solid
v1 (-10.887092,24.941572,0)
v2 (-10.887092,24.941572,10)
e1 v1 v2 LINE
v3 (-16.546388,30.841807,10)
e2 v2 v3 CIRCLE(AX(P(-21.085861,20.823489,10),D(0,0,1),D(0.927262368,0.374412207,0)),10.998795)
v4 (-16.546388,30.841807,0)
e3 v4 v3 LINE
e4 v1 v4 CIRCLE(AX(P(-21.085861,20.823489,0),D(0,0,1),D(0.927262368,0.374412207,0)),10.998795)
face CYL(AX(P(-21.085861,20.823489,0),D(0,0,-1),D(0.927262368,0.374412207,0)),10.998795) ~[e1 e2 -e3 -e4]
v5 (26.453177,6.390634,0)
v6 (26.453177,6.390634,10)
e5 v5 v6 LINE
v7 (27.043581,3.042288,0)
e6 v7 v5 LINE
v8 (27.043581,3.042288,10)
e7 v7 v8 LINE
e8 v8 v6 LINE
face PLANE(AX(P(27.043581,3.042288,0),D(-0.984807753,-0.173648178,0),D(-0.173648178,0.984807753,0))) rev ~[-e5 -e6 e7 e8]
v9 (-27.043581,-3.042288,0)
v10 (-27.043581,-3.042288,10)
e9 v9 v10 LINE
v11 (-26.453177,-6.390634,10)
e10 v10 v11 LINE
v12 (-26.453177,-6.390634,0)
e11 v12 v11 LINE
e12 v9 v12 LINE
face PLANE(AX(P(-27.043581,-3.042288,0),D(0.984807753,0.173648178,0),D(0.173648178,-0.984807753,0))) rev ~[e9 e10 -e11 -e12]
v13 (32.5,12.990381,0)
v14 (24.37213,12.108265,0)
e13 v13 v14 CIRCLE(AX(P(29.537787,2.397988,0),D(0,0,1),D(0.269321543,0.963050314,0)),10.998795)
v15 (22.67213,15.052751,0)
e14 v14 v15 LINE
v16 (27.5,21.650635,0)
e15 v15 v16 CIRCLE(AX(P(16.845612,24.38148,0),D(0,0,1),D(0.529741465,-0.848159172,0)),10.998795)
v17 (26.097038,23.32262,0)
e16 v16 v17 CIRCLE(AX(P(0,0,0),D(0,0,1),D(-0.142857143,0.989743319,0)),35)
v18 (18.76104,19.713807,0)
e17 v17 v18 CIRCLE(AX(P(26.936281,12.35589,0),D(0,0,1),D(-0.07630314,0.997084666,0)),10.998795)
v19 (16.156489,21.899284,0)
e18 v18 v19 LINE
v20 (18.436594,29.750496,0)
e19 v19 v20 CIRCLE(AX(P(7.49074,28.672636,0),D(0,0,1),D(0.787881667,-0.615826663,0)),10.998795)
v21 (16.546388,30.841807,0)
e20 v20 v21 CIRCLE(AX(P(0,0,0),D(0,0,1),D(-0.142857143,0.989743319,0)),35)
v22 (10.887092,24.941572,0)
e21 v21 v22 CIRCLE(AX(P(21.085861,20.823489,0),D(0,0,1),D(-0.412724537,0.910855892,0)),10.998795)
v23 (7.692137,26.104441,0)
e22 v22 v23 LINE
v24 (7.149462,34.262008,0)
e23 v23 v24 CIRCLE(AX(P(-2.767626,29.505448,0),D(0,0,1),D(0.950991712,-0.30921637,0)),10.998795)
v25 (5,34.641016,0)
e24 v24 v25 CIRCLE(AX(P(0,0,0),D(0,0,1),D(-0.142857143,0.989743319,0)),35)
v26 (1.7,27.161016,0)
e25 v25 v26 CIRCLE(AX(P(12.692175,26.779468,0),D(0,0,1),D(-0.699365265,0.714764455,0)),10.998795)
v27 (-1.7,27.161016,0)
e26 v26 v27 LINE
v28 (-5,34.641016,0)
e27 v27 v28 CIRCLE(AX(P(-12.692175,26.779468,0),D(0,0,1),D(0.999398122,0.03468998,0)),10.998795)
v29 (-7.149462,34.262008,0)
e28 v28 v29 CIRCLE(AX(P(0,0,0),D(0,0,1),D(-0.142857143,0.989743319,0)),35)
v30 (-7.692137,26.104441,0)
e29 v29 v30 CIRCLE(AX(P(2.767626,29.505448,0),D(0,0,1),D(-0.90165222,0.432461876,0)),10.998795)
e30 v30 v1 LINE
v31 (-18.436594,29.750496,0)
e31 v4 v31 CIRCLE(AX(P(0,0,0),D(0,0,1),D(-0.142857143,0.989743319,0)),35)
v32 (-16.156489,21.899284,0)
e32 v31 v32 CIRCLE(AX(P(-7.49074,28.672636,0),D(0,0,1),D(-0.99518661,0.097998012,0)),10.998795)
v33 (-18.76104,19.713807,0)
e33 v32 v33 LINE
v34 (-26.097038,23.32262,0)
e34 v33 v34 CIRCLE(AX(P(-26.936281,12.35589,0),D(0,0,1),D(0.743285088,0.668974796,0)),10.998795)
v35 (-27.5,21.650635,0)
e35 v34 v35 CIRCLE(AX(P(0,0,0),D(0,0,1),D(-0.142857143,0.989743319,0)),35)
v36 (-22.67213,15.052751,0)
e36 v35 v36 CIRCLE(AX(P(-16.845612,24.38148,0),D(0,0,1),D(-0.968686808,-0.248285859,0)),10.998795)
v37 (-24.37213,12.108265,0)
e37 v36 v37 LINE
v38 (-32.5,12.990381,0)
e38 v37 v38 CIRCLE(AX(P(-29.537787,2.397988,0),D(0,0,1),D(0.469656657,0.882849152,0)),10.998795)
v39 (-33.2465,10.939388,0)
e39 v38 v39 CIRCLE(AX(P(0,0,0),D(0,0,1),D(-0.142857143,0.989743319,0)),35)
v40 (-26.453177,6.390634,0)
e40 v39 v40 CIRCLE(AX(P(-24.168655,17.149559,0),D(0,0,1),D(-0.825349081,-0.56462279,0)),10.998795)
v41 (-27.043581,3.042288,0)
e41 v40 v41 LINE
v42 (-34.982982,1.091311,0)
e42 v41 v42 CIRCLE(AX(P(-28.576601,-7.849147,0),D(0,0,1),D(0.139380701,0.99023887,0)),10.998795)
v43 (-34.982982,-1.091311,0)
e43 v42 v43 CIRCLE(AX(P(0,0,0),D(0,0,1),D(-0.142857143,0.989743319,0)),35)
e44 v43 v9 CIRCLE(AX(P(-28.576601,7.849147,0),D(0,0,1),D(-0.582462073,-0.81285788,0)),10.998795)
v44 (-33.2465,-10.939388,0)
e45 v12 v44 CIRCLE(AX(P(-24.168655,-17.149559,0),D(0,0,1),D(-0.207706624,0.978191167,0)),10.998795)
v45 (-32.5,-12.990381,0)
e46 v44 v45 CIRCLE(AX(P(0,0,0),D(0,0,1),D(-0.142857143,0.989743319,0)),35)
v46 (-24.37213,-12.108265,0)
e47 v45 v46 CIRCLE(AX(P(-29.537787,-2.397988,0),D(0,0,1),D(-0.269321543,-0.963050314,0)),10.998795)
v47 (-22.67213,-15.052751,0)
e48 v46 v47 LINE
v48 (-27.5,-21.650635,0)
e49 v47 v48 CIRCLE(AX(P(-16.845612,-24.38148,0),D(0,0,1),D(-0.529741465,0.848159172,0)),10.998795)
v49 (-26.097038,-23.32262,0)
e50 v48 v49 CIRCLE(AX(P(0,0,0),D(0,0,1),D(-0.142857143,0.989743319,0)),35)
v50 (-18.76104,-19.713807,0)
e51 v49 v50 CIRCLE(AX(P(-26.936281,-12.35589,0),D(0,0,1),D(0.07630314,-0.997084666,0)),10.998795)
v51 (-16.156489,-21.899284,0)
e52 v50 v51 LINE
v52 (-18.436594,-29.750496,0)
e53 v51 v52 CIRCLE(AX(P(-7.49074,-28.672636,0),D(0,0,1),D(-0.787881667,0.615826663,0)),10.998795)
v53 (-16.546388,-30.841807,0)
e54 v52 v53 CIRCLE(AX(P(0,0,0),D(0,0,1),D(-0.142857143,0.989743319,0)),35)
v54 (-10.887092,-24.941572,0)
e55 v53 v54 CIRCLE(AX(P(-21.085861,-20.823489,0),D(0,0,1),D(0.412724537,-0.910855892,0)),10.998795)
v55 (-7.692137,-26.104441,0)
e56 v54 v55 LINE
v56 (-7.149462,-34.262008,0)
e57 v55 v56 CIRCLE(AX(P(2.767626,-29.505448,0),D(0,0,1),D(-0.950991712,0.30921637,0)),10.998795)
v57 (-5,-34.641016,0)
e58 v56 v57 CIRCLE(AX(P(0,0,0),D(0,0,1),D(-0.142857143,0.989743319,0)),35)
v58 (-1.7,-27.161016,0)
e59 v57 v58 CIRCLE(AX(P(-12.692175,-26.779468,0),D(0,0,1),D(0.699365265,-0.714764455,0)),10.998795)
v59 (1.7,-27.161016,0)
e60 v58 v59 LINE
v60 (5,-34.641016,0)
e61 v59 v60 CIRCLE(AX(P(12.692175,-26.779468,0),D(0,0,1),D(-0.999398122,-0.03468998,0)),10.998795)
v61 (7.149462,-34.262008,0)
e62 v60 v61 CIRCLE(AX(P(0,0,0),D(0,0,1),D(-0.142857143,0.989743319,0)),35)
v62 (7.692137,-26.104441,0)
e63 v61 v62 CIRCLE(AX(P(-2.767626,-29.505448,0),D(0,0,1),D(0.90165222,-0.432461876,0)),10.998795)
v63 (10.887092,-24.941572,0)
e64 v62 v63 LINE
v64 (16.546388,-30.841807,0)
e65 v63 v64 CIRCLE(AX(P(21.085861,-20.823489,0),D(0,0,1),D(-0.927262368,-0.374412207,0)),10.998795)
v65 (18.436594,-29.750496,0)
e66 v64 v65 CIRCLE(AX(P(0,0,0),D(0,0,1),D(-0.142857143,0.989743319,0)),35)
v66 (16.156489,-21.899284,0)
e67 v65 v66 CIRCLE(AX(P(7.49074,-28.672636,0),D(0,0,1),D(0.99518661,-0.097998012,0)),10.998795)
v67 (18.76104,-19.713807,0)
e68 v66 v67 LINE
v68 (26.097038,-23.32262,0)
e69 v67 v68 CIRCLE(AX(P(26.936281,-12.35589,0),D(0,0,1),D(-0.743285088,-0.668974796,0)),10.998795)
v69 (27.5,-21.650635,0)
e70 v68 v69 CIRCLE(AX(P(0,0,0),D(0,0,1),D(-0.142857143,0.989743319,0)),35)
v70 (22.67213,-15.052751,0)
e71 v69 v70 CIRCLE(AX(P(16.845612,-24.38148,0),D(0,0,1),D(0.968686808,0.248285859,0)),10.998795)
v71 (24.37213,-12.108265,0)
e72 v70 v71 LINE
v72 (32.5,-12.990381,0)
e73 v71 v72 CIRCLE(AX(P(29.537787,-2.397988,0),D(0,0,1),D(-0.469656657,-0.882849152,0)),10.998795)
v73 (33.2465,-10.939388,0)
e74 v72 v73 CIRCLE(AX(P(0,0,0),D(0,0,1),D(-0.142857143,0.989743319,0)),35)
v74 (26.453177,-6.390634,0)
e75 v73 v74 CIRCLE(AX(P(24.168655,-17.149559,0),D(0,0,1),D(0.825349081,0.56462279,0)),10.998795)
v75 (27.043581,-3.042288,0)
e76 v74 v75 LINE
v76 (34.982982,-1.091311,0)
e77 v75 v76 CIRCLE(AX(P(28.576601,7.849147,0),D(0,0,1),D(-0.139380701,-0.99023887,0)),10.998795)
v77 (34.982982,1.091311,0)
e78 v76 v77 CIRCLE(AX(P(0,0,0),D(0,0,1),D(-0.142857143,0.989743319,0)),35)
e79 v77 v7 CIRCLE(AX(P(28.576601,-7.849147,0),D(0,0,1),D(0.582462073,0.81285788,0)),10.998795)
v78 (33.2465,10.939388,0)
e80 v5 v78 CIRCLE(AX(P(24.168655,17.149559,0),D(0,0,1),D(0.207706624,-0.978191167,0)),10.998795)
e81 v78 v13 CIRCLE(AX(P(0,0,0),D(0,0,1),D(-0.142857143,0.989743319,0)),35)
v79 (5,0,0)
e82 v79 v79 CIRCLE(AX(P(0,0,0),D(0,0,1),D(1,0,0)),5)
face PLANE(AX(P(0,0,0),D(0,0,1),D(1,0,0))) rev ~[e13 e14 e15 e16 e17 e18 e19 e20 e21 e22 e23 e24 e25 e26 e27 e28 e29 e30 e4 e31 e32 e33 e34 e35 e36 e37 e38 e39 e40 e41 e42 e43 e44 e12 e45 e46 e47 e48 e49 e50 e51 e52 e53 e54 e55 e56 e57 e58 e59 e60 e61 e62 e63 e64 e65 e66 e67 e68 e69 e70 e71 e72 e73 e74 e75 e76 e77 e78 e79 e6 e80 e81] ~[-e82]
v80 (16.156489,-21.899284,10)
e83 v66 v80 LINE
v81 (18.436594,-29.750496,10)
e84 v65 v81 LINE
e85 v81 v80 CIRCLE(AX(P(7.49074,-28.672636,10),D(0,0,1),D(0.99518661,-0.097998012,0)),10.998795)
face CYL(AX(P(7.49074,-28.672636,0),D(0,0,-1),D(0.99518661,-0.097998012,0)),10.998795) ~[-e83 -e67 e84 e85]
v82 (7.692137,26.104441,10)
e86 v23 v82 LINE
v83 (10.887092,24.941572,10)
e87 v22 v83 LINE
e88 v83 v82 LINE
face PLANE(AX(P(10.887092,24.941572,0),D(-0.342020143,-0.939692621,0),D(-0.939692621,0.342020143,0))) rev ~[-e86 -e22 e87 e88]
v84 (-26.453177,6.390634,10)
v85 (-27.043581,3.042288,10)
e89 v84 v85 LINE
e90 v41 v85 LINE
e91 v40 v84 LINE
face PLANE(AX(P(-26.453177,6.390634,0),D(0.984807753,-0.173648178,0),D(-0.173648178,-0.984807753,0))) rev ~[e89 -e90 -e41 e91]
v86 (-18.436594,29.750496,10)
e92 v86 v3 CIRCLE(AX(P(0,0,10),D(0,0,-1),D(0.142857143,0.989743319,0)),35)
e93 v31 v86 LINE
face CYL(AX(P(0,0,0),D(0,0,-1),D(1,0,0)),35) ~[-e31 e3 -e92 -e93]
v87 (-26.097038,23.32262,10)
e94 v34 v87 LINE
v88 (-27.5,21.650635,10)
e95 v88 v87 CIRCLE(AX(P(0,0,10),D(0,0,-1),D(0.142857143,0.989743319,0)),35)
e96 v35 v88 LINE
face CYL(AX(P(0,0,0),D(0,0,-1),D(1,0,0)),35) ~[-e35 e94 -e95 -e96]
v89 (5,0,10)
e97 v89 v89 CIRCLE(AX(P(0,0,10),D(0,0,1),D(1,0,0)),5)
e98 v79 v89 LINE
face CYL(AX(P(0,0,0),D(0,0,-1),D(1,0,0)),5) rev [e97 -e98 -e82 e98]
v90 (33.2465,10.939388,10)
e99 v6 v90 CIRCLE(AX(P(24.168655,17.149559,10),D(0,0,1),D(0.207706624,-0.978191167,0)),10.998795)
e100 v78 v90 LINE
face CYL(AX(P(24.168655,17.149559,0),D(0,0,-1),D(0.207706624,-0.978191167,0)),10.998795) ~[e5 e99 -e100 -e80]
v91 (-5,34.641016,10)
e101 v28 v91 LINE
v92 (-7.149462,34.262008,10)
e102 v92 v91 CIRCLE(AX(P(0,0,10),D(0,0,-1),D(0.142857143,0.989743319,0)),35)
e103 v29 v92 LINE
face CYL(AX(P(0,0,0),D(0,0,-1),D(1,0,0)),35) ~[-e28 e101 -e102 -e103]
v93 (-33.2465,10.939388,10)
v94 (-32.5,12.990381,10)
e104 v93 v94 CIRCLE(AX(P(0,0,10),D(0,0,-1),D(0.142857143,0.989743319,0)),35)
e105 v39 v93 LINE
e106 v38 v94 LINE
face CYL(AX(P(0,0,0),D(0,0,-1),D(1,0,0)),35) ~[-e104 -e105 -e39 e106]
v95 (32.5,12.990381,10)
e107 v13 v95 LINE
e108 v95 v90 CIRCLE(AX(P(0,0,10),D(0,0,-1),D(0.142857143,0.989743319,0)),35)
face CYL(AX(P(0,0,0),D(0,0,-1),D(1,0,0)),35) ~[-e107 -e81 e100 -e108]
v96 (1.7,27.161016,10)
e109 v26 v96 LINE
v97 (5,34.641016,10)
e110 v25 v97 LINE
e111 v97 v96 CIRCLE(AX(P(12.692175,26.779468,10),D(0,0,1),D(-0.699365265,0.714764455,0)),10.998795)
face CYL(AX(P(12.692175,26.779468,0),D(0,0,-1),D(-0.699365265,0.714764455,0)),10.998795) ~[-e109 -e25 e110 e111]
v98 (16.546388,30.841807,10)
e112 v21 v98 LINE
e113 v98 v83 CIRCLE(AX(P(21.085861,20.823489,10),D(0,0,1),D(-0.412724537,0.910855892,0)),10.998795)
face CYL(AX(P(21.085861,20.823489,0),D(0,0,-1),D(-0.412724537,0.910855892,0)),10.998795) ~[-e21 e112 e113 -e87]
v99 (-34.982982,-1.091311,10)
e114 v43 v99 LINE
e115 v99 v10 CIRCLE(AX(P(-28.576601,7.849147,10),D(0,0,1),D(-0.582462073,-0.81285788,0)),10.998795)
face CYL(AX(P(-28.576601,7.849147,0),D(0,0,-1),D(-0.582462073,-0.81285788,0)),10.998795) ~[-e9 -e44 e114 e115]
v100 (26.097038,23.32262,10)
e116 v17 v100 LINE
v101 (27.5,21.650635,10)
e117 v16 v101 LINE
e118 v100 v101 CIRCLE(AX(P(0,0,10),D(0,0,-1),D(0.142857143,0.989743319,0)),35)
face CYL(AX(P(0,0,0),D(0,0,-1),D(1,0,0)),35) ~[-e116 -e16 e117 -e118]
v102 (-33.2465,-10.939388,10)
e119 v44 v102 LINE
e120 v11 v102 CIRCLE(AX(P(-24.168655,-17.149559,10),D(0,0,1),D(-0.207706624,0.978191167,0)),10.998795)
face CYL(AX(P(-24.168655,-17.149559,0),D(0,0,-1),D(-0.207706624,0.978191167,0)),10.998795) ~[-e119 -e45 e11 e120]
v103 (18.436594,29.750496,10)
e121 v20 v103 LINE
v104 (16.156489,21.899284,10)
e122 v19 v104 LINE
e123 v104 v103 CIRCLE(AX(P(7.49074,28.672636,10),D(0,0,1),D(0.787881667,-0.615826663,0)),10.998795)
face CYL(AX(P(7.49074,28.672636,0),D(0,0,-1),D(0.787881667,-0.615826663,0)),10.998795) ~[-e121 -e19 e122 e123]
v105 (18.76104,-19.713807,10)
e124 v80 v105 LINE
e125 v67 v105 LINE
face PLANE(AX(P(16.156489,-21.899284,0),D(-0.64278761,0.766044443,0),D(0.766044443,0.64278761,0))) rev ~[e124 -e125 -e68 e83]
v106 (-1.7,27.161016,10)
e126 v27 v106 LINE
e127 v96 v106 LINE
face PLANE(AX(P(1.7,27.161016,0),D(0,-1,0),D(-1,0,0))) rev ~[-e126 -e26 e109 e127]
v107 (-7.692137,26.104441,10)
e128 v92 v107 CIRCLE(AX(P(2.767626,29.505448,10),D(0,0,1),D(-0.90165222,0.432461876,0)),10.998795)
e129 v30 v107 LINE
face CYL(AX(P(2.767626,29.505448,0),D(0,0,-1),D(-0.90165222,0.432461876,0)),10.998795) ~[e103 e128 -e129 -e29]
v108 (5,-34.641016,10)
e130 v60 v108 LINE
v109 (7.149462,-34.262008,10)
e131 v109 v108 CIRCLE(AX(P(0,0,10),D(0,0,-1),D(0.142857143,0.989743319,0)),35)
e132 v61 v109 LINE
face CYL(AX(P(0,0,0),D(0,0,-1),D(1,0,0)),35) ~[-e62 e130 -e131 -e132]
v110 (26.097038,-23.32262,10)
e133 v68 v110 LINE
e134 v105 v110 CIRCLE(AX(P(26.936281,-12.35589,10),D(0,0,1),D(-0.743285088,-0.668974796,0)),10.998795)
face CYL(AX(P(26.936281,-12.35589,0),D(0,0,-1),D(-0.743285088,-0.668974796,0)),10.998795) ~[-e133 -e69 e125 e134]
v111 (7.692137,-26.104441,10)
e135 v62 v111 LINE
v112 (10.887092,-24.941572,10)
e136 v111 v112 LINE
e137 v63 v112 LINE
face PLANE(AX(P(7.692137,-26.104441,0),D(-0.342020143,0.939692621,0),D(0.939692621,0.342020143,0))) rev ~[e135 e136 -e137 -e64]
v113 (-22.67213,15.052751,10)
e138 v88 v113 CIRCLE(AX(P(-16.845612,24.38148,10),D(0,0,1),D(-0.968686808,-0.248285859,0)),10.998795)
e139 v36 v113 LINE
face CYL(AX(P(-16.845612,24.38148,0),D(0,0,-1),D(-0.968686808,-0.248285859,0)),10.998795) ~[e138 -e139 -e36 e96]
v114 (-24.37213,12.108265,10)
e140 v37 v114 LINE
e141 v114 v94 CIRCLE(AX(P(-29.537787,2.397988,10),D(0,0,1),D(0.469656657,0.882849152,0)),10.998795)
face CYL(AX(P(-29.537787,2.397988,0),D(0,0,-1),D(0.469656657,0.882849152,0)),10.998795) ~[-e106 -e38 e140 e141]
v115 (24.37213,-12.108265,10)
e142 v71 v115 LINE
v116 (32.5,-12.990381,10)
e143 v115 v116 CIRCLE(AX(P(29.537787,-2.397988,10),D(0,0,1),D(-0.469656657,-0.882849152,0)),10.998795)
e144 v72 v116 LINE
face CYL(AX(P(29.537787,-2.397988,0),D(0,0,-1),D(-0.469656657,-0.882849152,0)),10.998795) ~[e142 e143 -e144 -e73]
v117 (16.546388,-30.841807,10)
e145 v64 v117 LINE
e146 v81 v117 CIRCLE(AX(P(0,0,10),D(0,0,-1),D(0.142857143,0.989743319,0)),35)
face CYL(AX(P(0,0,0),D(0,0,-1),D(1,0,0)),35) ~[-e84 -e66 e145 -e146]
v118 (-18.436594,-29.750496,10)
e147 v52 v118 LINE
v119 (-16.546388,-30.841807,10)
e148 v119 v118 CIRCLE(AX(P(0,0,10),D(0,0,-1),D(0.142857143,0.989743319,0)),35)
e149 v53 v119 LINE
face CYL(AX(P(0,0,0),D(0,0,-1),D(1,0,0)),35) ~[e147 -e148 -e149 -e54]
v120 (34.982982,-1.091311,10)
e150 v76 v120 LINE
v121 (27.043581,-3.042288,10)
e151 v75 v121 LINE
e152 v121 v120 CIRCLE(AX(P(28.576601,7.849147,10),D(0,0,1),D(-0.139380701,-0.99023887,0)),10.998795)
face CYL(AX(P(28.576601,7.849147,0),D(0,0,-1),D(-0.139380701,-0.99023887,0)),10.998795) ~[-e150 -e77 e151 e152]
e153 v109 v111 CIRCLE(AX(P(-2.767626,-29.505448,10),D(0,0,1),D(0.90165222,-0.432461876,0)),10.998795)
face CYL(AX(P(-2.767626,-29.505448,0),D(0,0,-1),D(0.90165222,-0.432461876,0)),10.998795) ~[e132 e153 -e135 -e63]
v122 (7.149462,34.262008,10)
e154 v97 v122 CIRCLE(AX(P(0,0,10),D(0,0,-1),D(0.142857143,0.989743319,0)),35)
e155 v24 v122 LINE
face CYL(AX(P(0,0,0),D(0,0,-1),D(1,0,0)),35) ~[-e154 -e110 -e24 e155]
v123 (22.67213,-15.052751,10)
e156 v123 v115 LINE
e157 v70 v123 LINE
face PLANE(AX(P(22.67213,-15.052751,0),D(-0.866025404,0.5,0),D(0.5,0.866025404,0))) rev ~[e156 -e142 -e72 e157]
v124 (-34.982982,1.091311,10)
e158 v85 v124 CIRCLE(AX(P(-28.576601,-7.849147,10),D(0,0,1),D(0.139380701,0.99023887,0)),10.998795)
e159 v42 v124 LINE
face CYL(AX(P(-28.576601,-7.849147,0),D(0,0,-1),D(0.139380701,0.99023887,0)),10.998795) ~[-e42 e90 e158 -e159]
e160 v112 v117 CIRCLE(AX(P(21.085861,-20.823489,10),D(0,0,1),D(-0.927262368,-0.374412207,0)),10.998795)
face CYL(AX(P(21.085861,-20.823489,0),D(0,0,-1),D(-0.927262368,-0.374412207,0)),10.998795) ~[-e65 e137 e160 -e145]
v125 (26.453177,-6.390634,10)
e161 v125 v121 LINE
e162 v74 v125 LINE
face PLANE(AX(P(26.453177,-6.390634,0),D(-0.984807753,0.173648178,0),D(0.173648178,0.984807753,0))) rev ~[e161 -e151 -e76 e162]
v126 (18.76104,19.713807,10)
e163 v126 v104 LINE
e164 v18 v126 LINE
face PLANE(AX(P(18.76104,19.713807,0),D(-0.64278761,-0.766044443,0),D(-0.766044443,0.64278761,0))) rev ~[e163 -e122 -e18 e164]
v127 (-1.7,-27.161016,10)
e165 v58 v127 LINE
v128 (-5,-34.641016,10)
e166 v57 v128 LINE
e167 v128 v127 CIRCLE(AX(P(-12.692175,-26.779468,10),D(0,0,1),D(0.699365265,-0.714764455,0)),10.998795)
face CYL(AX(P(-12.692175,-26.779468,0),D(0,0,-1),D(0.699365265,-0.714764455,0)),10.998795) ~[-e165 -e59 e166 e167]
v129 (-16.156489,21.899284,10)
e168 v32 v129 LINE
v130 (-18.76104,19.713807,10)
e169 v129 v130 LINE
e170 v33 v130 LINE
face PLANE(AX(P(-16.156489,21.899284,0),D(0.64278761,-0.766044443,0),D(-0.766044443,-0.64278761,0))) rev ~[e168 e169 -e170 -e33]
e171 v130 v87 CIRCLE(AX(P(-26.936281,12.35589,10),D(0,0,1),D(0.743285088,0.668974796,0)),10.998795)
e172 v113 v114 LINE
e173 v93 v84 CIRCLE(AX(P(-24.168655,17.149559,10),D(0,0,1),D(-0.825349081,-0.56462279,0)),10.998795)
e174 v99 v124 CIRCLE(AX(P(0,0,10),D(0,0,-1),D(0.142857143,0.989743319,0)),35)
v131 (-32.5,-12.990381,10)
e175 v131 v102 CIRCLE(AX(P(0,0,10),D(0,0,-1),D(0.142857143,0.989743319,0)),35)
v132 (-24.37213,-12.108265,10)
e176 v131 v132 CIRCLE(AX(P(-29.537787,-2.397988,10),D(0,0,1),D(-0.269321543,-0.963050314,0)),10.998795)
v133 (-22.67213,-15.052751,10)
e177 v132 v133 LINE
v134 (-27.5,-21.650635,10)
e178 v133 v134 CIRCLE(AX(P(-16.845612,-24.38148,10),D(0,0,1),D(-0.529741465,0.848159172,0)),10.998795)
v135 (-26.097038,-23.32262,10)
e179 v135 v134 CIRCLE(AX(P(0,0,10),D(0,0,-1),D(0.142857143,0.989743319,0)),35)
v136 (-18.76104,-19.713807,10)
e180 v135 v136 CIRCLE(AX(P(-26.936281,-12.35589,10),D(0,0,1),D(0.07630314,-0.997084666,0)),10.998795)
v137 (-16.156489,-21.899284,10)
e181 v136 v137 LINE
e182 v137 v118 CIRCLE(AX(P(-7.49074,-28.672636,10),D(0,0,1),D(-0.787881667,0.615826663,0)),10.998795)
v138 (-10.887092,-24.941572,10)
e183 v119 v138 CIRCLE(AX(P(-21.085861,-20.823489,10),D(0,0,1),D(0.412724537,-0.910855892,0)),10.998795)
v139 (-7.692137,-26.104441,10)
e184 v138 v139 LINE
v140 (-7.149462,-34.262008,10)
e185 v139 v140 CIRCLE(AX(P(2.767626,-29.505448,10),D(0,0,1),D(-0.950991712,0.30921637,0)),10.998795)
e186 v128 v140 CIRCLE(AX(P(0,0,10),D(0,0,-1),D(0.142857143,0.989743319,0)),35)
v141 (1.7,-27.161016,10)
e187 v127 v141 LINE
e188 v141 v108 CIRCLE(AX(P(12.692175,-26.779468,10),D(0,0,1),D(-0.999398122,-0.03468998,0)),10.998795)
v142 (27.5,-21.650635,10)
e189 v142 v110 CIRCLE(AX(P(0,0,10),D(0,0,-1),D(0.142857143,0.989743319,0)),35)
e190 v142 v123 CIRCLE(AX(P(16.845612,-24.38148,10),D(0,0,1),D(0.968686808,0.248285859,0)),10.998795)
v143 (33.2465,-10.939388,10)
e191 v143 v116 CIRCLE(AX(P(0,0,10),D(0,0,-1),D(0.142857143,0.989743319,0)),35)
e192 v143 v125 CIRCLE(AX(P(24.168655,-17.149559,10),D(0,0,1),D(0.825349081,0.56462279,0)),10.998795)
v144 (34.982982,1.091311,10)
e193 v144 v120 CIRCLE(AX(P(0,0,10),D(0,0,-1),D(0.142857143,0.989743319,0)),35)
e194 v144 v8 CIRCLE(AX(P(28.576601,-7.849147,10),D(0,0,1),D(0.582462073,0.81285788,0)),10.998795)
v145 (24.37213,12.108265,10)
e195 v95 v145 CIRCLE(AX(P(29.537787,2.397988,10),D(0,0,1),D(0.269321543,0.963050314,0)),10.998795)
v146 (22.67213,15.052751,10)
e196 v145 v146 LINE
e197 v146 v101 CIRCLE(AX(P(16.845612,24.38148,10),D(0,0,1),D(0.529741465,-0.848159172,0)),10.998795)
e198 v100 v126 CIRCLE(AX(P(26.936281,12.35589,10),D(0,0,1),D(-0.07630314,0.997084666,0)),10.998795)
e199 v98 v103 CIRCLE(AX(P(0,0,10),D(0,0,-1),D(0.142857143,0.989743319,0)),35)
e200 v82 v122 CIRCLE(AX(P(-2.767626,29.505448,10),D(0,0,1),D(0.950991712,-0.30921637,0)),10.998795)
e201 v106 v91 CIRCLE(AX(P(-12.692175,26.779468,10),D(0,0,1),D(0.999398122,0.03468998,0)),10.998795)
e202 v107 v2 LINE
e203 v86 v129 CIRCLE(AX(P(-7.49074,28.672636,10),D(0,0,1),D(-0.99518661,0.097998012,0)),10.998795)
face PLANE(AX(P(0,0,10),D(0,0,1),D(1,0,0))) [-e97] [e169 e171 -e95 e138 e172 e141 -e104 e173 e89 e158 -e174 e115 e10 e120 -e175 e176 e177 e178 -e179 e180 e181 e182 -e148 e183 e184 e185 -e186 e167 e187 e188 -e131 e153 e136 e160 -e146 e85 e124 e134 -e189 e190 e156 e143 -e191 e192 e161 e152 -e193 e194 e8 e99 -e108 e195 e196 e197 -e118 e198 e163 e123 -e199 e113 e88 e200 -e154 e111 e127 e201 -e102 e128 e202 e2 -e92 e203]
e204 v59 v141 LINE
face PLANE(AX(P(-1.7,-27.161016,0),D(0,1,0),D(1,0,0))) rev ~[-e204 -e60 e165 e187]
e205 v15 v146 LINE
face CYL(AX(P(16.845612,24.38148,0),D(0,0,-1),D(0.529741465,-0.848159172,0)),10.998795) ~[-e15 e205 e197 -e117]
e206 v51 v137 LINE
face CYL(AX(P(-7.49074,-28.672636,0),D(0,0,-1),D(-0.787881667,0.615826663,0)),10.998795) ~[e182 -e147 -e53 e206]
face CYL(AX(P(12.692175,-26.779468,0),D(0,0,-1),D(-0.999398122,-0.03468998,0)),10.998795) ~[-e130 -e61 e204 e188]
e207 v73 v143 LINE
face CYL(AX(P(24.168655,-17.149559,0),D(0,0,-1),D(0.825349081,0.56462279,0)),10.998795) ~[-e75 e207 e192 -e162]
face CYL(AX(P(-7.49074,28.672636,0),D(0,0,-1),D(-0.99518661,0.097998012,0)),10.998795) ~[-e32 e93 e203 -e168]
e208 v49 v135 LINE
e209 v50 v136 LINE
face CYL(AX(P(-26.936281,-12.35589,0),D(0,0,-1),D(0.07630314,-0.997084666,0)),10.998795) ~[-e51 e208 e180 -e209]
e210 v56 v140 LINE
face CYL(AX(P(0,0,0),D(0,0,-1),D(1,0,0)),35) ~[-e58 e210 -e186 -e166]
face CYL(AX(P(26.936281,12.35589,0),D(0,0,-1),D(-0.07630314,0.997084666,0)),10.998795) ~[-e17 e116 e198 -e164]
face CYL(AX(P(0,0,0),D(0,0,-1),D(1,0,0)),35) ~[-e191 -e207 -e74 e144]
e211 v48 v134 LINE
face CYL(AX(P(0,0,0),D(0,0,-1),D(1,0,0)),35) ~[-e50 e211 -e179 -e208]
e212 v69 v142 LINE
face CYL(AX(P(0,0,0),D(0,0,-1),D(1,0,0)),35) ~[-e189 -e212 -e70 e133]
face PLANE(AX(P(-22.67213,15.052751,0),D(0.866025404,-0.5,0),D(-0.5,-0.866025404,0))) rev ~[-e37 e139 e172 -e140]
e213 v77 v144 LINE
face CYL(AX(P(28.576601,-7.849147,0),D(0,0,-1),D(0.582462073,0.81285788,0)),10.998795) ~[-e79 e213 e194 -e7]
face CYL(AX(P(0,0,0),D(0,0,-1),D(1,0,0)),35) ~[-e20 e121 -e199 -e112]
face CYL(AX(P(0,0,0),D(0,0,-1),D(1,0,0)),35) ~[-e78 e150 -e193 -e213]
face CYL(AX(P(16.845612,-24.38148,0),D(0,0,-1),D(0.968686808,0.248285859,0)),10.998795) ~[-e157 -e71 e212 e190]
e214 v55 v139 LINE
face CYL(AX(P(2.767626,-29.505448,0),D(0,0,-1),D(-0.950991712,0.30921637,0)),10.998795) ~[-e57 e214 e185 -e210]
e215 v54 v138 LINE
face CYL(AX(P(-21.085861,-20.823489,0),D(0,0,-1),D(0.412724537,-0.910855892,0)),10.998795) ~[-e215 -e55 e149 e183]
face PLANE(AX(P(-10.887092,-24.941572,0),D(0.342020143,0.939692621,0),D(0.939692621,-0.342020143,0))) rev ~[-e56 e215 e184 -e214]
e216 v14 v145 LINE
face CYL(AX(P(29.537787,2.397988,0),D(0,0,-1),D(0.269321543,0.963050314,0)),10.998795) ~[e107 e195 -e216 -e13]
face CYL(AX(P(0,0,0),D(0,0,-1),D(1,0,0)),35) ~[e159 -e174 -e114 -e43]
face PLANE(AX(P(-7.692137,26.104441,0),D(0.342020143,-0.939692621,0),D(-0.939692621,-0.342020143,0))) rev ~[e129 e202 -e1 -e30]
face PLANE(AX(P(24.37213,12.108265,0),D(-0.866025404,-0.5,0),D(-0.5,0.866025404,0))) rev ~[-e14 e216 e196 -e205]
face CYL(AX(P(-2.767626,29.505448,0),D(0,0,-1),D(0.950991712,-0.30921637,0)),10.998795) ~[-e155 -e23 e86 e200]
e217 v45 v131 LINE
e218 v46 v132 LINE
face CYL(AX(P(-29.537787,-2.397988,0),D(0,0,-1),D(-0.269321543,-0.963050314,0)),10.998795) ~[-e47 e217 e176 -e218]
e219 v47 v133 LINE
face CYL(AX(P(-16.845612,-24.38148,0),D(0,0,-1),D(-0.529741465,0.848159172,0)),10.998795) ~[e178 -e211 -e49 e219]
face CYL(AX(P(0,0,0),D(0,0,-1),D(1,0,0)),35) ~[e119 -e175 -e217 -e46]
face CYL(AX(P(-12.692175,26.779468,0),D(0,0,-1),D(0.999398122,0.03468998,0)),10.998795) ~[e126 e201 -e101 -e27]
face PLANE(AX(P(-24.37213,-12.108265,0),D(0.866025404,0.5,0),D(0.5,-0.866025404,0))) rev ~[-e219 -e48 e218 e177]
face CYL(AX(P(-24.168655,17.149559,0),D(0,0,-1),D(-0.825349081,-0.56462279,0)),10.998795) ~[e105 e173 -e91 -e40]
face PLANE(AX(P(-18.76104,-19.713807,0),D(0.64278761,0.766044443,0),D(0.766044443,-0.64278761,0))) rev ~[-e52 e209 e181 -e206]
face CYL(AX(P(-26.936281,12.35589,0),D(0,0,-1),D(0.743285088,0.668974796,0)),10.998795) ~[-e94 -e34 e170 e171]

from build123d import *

# Parameters (mm, degrees)
SKETCH1_R           = 35
BOSS_EXTRUDE1_DEPTH = 10
CUT_EXTRUDE1_DEPTH  = 10
CIRPATTERN1_COUNT   = 18
SKETCH3_R           = 5
CUT_EXTRUDE2_DEPTH  = 10


with BuildPart() as part:
    # Sketch1 → Boss-Extrude1 (new body)
    with BuildSketch(Plane.XY):
        Circle(SKETCH1_R)
    extrude(amount=BOSS_EXTRUDE1_DEPTH)

    # Sketch2 → Cut-Extrude1 (cut)
    with BuildSketch(Plane.XY):
        with BuildLine():
            Line((0, 27.161016151), (-1.7, 27.161016151))
            ThreePointArc((-1.7, 27.161016151), (-2.629181754, 31.219024201), (-5, 34.641016151))
            ThreePointArc((-5, 34.641016151), (-2.962634917, 36.808842577), (0, 37.07925382))
            ThreePointArc((0, 37.07925382), (2.962634917, 36.808842577), (5, 34.641016151))
            ThreePointArc((5, 34.641016151), (2.629181754, 31.219024201), (1.7, 27.161016151))
            Line((1.7, 27.161016151), (0, 27.161016151))
        make_face()
    cut_extrude1 = extrude(amount=CUT_EXTRUDE1_DEPTH, mode=Mode.SUBTRACT)

    # CirPattern1: Cut-Extrude1 ×18 about axis
    cirpattern1_axis = Axis((0, 0, 0), (0, 0, 1))
    for i in range(1, CIRPATTERN1_COUNT):
        add(cut_extrude1.rotate(cirpattern1_axis, i * 360 / CIRPATTERN1_COUNT), mode=Mode.SUBTRACT)

    # Sketch3 → Cut-Extrude2 (cut)
    with BuildSketch(Plane.XY):
        Circle(SKETCH3_R)
    extrude(amount=CUT_EXTRUDE2_DEPTH, mode=Mode.SUBTRACT)


solid = part.part
